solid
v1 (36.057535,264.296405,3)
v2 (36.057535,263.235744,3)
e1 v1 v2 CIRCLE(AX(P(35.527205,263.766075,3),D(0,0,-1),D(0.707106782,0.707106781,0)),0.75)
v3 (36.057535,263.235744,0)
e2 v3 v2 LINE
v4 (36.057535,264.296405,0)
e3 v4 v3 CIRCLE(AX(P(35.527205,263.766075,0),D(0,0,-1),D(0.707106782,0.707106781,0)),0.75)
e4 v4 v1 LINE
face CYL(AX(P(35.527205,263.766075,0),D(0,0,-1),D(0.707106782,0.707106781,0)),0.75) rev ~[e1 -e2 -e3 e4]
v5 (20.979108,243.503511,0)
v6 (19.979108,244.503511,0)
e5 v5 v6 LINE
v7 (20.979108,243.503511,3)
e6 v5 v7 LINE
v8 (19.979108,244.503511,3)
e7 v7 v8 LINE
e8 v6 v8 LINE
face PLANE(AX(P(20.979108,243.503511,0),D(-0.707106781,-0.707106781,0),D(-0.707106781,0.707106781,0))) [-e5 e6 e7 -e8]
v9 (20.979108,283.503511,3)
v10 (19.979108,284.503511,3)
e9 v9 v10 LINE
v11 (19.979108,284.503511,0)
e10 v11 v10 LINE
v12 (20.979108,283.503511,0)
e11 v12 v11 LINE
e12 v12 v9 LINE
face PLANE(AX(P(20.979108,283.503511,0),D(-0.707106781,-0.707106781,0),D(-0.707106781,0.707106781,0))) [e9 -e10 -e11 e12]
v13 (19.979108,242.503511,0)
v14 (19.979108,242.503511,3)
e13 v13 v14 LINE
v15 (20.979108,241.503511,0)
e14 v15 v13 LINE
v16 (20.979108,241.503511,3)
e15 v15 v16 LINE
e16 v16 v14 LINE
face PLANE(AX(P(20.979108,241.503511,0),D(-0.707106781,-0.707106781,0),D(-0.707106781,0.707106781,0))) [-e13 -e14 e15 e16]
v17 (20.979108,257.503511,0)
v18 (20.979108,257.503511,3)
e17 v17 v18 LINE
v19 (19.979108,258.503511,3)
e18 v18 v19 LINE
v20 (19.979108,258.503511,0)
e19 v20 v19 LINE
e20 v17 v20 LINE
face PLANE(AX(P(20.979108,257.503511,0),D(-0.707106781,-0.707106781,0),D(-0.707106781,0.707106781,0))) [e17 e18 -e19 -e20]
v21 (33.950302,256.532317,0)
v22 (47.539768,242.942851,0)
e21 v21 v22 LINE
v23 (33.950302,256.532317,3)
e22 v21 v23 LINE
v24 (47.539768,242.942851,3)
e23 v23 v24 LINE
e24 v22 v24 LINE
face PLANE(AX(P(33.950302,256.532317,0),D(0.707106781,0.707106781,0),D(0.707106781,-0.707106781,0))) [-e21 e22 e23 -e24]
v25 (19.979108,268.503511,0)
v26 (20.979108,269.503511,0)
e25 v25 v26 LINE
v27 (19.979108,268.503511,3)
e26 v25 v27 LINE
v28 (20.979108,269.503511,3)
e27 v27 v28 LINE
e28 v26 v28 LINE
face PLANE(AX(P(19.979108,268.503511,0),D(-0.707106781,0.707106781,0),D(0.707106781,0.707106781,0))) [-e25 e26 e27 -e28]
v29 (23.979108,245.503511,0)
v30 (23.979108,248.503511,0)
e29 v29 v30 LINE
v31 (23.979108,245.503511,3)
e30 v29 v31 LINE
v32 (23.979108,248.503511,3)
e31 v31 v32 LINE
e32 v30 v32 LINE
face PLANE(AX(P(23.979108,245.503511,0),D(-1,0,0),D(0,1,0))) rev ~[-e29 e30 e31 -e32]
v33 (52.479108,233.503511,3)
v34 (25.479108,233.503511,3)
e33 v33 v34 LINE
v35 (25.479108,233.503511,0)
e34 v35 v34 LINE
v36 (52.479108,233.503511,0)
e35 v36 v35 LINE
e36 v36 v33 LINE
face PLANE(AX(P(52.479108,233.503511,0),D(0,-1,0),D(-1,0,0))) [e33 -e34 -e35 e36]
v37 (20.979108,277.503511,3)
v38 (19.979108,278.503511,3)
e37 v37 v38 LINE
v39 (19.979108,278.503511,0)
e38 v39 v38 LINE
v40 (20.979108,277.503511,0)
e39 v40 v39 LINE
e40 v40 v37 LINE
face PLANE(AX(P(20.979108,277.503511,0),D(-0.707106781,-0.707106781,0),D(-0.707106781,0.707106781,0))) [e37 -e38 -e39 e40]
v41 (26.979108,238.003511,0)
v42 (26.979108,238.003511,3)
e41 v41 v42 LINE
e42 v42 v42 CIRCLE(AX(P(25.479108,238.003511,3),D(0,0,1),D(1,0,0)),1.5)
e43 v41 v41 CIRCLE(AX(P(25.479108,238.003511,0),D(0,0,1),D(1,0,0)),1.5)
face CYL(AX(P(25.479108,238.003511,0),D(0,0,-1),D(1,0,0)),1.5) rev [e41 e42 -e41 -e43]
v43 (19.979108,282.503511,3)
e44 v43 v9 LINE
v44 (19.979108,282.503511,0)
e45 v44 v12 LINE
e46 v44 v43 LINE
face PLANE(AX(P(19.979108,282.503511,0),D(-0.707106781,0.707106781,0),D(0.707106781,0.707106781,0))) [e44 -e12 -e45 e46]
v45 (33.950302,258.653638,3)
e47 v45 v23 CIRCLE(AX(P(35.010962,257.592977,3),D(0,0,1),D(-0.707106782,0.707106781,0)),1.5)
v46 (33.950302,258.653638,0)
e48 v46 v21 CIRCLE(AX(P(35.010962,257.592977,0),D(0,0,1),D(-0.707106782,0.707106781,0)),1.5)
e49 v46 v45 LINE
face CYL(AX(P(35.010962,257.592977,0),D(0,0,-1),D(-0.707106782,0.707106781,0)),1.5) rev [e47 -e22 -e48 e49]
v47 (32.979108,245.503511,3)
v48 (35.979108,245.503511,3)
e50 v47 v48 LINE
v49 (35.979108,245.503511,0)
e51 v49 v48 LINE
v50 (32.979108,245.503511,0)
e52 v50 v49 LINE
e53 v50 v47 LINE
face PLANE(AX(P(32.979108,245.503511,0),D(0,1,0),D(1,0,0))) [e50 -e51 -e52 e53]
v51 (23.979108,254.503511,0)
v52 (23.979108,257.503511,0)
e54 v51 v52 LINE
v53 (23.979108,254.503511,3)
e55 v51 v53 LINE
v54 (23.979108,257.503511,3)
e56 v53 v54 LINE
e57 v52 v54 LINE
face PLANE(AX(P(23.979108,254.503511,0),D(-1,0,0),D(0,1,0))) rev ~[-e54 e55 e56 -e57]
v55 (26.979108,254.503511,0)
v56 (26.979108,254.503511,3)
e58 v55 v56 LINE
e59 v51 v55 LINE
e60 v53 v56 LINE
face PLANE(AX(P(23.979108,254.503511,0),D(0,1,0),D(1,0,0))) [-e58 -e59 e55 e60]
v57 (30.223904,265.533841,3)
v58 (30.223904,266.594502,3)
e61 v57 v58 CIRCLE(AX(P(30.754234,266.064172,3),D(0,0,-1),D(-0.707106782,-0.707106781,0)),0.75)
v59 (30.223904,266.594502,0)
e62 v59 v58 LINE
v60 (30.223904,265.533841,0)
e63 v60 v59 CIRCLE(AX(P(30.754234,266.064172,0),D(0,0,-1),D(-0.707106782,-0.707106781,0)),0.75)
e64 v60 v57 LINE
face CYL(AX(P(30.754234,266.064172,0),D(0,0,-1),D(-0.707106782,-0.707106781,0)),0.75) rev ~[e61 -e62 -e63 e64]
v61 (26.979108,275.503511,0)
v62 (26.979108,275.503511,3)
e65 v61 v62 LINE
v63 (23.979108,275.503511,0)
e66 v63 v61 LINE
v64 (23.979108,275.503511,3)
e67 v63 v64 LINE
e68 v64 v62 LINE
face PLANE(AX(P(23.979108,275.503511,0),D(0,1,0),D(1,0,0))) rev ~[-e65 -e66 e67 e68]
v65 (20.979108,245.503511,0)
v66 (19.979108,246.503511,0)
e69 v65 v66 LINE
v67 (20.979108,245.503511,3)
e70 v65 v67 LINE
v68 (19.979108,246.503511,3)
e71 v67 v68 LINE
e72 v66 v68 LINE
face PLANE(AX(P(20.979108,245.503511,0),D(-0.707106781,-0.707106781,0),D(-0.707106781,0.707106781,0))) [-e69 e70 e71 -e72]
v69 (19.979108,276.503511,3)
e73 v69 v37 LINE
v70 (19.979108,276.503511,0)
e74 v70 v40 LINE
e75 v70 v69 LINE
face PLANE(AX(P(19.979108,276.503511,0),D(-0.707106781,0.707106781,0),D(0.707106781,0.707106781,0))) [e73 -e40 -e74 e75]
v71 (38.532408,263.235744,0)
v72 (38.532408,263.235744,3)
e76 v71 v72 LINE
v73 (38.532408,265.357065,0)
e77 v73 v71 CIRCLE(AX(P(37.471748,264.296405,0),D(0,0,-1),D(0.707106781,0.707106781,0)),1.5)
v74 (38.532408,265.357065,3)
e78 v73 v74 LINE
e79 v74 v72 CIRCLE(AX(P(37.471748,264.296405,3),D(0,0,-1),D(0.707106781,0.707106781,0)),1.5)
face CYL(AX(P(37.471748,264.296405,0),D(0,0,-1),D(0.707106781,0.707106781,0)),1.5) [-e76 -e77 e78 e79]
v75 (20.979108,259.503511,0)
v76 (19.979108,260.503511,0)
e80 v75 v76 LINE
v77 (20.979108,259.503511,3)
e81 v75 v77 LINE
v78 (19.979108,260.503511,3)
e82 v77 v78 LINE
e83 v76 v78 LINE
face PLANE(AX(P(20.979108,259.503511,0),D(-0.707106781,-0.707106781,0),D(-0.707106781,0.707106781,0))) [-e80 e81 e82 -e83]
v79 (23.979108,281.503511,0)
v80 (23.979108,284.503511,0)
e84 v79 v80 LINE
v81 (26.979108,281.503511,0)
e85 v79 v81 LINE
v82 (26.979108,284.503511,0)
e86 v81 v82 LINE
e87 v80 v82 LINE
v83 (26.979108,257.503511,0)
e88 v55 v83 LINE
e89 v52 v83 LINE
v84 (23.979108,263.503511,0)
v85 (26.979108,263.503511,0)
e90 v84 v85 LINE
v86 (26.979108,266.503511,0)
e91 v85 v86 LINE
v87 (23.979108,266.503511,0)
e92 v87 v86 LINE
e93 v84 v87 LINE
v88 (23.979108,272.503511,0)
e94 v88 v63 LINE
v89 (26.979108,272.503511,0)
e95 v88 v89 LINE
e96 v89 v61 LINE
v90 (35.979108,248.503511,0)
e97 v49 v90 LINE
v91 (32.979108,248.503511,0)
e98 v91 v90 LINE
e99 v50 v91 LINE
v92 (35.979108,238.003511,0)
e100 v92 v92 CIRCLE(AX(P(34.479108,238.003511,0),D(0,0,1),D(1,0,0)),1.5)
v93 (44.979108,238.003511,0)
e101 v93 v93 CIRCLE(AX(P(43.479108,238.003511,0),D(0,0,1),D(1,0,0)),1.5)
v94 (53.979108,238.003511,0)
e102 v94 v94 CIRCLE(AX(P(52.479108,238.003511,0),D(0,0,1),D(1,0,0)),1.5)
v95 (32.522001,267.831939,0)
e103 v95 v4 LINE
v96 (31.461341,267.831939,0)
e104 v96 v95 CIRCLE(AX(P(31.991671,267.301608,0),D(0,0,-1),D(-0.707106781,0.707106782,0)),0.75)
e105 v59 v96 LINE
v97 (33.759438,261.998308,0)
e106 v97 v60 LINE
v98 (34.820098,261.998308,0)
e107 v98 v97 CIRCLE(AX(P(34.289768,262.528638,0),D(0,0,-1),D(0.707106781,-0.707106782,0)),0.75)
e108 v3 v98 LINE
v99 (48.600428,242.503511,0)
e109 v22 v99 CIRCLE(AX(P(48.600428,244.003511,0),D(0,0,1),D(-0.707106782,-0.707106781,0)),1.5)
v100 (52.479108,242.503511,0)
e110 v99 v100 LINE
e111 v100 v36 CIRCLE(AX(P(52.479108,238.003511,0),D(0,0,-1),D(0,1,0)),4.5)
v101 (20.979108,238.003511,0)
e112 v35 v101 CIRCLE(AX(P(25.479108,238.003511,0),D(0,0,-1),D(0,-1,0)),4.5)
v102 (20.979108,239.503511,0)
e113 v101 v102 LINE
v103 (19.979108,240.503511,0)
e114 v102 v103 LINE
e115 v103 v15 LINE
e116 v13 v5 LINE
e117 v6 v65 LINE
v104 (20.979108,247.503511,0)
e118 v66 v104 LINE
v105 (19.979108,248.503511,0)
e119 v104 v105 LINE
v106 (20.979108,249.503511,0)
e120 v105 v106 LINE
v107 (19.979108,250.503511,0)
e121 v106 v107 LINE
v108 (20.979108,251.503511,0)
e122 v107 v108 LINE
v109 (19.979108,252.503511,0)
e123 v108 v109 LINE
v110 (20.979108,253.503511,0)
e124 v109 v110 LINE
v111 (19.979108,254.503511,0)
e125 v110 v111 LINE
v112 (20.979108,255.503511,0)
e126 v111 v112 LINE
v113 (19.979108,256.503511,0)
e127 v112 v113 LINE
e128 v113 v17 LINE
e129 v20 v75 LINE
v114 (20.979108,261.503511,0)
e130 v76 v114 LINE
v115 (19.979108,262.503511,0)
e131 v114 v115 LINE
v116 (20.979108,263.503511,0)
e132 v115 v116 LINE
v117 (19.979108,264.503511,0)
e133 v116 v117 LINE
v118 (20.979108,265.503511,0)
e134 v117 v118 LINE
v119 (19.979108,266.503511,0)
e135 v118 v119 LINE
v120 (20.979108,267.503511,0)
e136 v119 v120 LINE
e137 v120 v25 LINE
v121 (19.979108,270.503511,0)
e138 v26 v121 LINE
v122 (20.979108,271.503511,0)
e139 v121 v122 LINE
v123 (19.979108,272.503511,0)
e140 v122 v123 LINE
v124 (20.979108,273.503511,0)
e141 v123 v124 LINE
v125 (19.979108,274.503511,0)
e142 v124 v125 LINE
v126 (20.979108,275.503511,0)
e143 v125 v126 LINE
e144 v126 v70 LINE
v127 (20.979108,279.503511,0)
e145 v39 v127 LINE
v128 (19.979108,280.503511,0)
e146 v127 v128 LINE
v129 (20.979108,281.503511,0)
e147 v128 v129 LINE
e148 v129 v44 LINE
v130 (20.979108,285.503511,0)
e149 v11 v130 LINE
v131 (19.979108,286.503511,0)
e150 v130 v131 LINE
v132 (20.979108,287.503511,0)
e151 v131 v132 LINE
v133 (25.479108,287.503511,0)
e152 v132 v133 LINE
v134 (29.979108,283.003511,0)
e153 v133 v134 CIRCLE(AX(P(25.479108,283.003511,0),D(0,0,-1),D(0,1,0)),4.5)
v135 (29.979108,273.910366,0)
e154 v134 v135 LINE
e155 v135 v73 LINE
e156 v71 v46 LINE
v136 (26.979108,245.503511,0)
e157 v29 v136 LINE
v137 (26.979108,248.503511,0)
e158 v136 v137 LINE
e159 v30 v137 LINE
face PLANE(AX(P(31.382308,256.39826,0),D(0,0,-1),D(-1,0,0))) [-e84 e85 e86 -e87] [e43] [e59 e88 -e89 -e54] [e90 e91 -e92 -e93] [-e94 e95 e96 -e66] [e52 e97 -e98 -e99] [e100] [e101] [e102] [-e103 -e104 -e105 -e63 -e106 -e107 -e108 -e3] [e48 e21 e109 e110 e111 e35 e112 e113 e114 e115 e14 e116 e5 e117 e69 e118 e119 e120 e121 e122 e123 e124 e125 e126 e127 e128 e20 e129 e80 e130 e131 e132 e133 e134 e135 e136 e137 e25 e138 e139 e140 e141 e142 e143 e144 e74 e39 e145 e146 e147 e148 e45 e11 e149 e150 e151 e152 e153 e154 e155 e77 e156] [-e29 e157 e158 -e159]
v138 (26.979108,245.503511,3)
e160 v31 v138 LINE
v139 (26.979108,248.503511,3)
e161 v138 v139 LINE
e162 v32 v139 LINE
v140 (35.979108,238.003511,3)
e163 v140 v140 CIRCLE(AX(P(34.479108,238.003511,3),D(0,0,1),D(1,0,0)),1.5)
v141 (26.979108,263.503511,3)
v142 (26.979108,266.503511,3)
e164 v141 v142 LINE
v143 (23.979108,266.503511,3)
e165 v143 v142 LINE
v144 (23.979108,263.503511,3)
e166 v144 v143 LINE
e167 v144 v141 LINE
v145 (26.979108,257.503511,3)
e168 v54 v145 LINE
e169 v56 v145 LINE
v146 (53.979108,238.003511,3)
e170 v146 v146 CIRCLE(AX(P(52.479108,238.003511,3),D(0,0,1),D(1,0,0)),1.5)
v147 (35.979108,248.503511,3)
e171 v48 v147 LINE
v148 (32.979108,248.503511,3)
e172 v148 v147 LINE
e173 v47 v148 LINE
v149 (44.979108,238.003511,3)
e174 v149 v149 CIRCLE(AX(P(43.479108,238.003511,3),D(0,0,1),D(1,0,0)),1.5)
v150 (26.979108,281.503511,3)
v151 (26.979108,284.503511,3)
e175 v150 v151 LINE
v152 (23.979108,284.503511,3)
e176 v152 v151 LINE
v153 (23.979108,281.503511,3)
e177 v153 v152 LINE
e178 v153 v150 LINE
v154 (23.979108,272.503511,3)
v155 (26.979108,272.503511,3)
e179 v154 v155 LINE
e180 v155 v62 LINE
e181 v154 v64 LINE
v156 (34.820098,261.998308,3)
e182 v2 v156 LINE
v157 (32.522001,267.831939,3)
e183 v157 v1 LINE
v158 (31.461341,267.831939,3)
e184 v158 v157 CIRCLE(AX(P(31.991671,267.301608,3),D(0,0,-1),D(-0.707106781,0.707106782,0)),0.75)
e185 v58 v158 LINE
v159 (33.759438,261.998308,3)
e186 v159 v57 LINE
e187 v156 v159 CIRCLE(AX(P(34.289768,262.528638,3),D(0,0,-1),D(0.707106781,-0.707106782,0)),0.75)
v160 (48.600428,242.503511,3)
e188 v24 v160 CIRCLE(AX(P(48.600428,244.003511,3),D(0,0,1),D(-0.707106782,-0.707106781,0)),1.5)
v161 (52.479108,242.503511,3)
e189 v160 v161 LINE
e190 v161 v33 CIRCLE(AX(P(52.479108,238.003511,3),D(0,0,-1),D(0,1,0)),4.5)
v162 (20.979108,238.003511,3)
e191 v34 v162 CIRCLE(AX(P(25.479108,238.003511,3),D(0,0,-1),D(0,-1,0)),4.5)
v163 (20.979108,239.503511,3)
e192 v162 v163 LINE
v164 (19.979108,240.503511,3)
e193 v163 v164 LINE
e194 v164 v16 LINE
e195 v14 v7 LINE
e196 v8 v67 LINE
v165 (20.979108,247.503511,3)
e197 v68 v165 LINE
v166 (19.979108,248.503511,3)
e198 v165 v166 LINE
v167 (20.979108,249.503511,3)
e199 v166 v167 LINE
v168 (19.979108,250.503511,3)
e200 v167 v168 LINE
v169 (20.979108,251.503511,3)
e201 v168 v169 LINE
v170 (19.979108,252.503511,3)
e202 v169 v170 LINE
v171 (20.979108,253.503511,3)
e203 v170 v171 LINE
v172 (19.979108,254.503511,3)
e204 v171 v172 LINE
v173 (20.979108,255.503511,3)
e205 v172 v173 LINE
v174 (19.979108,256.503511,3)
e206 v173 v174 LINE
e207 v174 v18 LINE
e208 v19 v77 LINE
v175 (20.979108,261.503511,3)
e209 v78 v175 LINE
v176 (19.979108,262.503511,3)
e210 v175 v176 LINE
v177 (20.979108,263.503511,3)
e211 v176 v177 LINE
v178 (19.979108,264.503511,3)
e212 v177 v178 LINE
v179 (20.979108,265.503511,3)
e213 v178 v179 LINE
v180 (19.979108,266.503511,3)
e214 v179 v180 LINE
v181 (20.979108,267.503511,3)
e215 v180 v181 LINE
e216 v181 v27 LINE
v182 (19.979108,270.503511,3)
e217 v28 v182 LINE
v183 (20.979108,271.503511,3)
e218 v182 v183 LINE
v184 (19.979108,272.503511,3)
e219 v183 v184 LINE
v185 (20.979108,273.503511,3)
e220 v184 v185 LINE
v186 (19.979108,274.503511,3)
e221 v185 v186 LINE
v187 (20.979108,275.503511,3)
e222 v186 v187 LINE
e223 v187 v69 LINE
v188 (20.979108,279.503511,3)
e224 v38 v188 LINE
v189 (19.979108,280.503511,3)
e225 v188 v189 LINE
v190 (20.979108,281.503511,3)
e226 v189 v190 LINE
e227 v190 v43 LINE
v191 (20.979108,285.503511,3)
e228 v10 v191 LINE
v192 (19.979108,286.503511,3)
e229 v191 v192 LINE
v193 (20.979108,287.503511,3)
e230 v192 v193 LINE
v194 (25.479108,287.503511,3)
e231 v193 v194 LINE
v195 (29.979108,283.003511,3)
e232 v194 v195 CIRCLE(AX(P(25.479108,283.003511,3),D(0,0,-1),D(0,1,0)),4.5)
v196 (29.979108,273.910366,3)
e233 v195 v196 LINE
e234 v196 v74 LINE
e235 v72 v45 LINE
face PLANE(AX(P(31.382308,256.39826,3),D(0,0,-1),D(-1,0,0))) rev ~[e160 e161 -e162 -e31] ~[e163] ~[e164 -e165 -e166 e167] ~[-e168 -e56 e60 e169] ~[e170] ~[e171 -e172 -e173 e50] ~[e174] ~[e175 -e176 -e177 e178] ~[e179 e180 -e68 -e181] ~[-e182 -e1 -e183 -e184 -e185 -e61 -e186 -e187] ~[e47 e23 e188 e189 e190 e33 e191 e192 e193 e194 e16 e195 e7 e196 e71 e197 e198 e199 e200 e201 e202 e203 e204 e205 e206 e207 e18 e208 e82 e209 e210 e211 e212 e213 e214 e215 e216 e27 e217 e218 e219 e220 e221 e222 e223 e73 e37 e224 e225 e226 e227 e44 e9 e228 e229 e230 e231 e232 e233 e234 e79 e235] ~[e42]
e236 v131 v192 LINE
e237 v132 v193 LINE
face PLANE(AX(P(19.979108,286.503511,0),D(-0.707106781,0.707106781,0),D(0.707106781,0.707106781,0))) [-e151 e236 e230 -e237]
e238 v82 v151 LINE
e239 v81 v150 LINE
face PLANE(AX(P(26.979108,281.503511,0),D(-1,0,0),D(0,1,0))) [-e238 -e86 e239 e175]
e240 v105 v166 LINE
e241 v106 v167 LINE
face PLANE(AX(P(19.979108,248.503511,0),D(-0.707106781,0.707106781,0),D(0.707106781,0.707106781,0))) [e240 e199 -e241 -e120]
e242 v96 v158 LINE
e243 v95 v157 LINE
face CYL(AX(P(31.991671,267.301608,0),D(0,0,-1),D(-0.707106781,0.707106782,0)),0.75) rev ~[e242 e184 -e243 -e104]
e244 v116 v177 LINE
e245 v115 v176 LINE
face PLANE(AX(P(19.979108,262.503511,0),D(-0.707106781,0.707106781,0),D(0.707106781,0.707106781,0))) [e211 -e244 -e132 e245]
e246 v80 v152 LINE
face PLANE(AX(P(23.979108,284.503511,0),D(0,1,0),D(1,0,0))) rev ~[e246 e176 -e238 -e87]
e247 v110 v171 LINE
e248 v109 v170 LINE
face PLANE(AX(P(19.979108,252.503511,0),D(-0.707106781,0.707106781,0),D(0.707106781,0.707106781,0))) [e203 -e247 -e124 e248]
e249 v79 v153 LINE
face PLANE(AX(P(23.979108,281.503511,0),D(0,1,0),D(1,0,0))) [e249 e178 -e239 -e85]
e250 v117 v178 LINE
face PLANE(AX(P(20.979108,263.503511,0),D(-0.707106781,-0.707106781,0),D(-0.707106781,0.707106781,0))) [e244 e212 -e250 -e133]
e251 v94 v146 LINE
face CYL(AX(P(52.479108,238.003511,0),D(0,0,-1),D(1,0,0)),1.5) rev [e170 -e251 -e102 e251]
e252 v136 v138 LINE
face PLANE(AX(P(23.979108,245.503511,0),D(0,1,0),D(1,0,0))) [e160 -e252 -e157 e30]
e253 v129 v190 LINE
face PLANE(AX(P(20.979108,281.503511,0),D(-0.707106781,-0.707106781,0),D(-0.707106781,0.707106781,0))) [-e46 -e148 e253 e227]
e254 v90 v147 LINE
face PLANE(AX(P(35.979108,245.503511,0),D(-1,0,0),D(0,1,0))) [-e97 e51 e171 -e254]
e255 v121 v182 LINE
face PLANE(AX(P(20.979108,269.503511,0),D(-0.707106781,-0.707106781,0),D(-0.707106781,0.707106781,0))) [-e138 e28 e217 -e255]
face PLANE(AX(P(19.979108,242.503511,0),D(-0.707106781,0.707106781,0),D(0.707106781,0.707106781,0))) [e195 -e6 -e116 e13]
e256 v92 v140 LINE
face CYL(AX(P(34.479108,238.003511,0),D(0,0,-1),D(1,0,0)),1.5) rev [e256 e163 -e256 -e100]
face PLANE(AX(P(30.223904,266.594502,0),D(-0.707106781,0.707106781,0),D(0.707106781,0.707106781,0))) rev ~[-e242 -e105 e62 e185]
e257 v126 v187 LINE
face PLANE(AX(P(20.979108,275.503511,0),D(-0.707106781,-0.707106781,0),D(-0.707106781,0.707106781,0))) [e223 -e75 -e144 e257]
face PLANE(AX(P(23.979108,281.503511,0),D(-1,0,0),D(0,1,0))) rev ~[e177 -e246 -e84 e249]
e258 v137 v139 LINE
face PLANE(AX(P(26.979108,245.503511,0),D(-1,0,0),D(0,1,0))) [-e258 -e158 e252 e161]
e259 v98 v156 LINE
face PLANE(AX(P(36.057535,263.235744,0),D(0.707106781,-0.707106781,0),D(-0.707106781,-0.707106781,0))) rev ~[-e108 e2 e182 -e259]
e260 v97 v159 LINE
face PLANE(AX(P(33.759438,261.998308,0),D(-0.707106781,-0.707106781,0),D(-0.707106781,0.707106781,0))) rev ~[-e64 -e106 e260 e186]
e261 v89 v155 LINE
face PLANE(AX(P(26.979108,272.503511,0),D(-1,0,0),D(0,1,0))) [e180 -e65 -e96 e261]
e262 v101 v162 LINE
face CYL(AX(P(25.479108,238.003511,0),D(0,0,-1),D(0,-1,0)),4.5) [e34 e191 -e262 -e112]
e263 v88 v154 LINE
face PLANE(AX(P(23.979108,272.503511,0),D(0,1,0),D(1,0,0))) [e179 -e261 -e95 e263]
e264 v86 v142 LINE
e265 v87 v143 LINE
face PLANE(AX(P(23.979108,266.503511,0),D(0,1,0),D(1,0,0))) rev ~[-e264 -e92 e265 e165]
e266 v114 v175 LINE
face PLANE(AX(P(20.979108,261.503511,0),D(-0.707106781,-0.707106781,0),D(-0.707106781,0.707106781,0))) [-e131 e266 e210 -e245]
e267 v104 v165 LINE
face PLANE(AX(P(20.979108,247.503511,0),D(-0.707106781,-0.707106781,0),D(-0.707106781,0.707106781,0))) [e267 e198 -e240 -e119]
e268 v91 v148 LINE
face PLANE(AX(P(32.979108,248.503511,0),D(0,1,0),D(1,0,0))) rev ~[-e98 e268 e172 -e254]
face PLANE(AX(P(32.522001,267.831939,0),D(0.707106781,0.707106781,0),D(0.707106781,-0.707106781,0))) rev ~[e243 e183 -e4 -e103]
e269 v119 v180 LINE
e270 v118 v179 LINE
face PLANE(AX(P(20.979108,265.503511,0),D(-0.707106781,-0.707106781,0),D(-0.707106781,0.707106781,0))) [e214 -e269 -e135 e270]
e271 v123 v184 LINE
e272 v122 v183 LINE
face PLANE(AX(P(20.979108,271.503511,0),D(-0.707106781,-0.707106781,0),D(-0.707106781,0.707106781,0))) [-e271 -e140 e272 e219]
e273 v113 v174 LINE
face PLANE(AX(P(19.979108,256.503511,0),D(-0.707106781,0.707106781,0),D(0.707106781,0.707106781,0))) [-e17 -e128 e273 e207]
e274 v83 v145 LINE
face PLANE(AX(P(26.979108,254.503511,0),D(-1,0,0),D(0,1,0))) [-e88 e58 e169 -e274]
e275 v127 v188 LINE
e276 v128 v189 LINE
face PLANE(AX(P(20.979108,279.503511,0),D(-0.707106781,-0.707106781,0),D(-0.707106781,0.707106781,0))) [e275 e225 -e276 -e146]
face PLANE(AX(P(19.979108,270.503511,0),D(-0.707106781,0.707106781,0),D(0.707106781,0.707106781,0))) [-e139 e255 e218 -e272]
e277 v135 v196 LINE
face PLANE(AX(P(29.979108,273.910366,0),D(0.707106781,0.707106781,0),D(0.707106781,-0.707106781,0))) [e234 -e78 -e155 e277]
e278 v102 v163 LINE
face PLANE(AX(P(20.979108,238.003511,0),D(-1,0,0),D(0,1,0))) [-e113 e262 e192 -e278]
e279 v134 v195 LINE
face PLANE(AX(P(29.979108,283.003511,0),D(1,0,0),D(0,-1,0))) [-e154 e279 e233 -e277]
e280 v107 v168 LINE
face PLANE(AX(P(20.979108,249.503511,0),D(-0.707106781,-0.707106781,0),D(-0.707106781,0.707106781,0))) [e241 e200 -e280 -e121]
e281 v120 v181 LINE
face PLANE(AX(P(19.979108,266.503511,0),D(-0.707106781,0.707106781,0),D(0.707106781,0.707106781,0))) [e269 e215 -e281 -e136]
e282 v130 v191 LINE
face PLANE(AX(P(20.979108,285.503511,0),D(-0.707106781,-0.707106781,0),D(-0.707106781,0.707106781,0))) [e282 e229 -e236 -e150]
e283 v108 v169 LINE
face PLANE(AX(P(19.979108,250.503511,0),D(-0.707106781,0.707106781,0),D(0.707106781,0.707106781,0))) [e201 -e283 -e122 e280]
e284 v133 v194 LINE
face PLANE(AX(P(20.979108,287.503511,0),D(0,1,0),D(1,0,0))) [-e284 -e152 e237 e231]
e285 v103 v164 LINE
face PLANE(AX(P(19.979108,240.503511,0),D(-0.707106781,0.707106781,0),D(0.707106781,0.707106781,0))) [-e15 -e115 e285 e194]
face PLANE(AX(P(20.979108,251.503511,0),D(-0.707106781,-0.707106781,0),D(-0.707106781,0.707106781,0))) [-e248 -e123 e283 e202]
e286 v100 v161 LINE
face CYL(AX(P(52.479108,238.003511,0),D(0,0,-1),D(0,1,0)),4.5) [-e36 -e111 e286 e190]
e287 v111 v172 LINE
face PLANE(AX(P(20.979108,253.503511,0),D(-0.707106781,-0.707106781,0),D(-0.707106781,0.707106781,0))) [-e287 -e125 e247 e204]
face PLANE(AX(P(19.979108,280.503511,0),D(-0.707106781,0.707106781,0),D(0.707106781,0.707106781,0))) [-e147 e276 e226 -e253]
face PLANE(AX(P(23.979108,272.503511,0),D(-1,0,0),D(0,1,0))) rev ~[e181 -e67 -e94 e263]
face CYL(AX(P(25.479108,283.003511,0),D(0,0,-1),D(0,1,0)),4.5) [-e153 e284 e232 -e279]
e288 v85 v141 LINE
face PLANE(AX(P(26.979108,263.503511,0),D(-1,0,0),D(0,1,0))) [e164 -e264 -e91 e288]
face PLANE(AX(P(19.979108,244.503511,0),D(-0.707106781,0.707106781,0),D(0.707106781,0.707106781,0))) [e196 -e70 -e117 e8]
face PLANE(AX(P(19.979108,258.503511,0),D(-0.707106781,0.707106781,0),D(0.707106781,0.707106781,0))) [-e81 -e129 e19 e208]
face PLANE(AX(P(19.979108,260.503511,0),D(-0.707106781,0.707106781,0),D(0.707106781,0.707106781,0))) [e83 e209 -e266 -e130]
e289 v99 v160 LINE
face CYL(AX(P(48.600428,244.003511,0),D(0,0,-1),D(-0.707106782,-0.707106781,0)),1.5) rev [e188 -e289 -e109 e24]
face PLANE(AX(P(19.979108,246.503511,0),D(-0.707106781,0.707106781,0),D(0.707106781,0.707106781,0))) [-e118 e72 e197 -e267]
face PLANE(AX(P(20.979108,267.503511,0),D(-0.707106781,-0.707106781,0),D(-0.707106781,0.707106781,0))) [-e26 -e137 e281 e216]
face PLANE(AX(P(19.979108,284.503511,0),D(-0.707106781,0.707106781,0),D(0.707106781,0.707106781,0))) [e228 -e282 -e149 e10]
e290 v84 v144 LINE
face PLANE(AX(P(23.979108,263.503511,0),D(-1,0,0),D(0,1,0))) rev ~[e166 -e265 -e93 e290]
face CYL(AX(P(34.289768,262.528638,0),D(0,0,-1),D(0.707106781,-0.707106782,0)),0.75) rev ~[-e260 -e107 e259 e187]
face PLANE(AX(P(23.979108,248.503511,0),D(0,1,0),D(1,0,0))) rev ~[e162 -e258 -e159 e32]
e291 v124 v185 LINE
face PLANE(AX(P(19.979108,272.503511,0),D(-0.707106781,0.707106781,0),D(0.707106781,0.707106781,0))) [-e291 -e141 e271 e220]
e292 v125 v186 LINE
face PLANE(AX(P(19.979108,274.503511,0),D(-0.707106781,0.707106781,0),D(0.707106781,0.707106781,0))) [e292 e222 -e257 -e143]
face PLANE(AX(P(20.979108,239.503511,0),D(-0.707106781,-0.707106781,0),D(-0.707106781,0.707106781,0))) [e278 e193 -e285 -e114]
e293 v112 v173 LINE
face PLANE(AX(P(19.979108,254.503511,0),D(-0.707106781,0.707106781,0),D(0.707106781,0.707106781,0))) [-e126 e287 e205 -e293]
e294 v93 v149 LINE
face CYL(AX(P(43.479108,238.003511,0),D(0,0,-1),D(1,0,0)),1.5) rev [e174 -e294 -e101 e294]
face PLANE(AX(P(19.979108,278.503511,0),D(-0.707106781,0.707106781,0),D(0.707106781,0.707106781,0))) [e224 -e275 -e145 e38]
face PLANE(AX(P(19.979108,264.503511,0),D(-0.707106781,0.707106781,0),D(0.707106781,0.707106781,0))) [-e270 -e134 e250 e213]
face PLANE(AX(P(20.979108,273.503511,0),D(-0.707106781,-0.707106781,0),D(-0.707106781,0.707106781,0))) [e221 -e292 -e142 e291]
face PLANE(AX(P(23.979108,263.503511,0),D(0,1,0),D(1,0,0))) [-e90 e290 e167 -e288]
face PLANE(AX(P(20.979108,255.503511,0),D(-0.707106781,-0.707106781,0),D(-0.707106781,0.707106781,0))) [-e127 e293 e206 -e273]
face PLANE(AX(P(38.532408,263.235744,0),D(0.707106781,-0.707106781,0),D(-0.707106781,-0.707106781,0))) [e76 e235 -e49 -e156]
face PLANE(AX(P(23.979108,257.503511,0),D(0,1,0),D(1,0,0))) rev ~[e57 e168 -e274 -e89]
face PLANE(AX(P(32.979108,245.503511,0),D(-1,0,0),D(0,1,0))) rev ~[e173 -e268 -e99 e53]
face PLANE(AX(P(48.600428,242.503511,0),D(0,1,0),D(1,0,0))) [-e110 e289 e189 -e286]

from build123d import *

# Parameters (mm, degrees)
MODEL_R                 = 1.5
MODEL_W                 = 3
MODEL_H                 = 3
SALIENTE_EXTRUIR1_DEPTH = 3


with BuildPart() as part:
    # Model → Saliente-Extruir1 (new body)
    with BuildSketch(Plane.XY):
        with BuildLine():
            Line((20.979107628, 285.503511394), (19.979107628, 286.503511394))
            Line((19.979107628, 286.503511394), (20.979107628, 287.503511394))
            Line((20.979107628, 287.503511394), (25.479107628, 287.503511394))
            ThreePointArc((25.479107628, 287.503511394), (28.661088143, 286.185491909), (29.979107628, 283.003511394))
            Line((29.979107628, 283.003511394), (29.979107628, 273.910365643))
            Line((29.979107628, 273.910365643), (38.532408487, 265.357064784))
            ThreePointArc((38.532408487, 265.357064784), (38.971748315, 264.296404613), (38.532408487, 263.235744441))
            Line((38.532408487, 263.235744441), (33.950301706, 258.65363766))
            ThreePointArc((33.950301706, 258.65363766), (33.510961878, 257.592977488), (33.950301706, 256.532317316))
            Line((33.950301706, 256.532317316), (47.5397678, 242.942851222))
            ThreePointArc((47.5397678, 242.942851222), (48.026402823, 242.617692095), (48.600427972, 242.503511394))
            Line((48.600427972, 242.503511394), (52.479107628, 242.503511394))
            ThreePointArc((52.479107628, 242.503511394), (56.979107628, 238.003511394), (52.479107628, 233.503511394))
            Line((52.479107628, 233.503511394), (25.479107628, 233.503511394))
            ThreePointArc((25.479107628, 233.503511394), (22.297127113, 234.821530879), (20.979107628, 238.003511394))
            Line((20.979107628, 238.003511394), (20.979107628, 239.503511394))
            Line((20.979107628, 239.503511394), (19.979107628, 240.503511394))
            Line((19.979107628, 240.503511394), (20.979107628, 241.503511394))
            Line((20.979107628, 241.503511394), (19.979107628, 242.503511394))
            Line((19.979107628, 242.503511394), (20.979107628, 243.503511394))
            Line((20.979107628, 243.503511394), (19.979107628, 244.503511394))
            Line((19.979107628, 244.503511394), (20.979107628, 245.503511394))
            Line((20.979107628, 245.503511394), (19.979107628, 246.503511394))
            Line((19.979107628, 246.503511394), (20.979107628, 247.503511394))
            Line((20.979107628, 247.503511394), (19.979107628, 248.503511394))
            Line((19.979107628, 248.503511394), (20.979107628, 249.503511394))
            Line((20.979107628, 249.503511394), (19.979107628, 250.503511394))
            Line((19.979107628, 250.503511394), (20.979107628, 251.503511394))
            Line((20.979107628, 251.503511394), (19.979107628, 252.503511394))
            Line((19.979107628, 252.503511394), (20.979107628, 253.503511394))
            Line((20.979107628, 253.503511394), (19.979107628, 254.503511394))
            Line((19.979107628, 254.503511394), (20.979107628, 255.503511394))
            Line((20.979107628, 255.503511394), (19.979107628, 256.503511394))
            Line((19.979107628, 256.503511394), (20.979107628, 257.503511394))
            Line((20.979107628, 257.503511394), (19.979107628, 258.503511394))
            Line((19.979107628, 258.503511394), (20.979107628, 259.503511394))
            Line((20.979107628, 259.503511394), (19.979107628, 260.503511394))
            Line((19.979107628, 260.503511394), (20.979107628, 261.503511394))
            Line((20.979107628, 261.503511394), (19.979107628, 262.503511394))
            Line((19.979107628, 262.503511394), (20.979107628, 263.503511394))
            Line((20.979107628, 263.503511394), (19.979107628, 264.503511394))
            Line((19.979107628, 264.503511394), (20.979107628, 265.503511394))
            Line((20.979107628, 265.503511394), (19.979107628, 266.503511394))
            Line((19.979107628, 266.503511394), (20.979107628, 267.503511394))
            Line((20.979107628, 267.503511394), (19.979107628, 268.503511394))
            Line((19.979107628, 268.503511394), (20.979107628, 269.503511394))
            Line((20.979107628, 269.503511394), (19.979107628, 270.503511394))
            Line((19.979107628, 270.503511394), (20.979107628, 271.503511394))
            Line((20.979107628, 271.503511394), (19.979107628, 272.503511394))
            Line((19.979107628, 272.503511394), (20.979107628, 273.503511394))
            Line((20.979107628, 273.503511394), (19.979107628, 274.503511394))
            Line((19.979107628, 274.503511394), (20.979107628, 275.503511394))
            Line((20.979107628, 275.503511394), (19.979107628, 276.503511394))
            Line((19.979107628, 276.503511394), (20.979107628, 277.503511394))
            Line((20.979107628, 277.503511394), (19.979107628, 278.503511394))
            Line((19.979107628, 278.503511394), (20.979107628, 279.503511394))
            Line((20.979107628, 279.503511394), (19.979107628, 280.503511394))
            Line((19.979107628, 280.503511394), (20.979107628, 281.503511394))
            Line((20.979107628, 281.503511394), (19.979107628, 282.503511394))
            Line((19.979107628, 282.503511394), (20.979107628, 283.503511394))
            Line((20.979107628, 283.503511394), (19.979107628, 284.503511394))
            Line((19.979107628, 284.503511394), (20.979107628, 285.503511394))
        make_face()
        with Locations((43.479107628, 238.003511394)):
            Circle(MODEL_R, mode=Mode.SUBTRACT)
        with Locations((34.479107628, 238.003511394)):
            Circle(MODEL_R, mode=Mode.SUBTRACT)
        with Locations((52.479107628, 238.003511394)):
            Circle(MODEL_R, mode=Mode.SUBTRACT)
        with Locations((25.479107628, 238.003511394)):
            Circle(MODEL_R, mode=Mode.SUBTRACT)
        with Locations((25.479107628, 283.003511394)):
            Rectangle(MODEL_W, MODEL_H, mode=Mode.SUBTRACT)
        with Locations((25.479107628, 247.003511394)):
            Rectangle(MODEL_W, MODEL_H, mode=Mode.SUBTRACT)
        with Locations((25.479107628, 274.003511394)):
            Rectangle(MODEL_W, MODEL_H, mode=Mode.SUBTRACT)
        with Locations((25.479107628, 256.003511394)):
            Rectangle(MODEL_W, MODEL_H, mode=Mode.SUBTRACT)
        with Locations((25.479107628, 265.003511394)):
            Rectangle(MODEL_W, MODEL_H, mode=Mode.SUBTRACT)
        with Locations((34.479107628, 247.003511394)):
            Rectangle(MODEL_W, MODEL_H, mode=Mode.SUBTRACT)
        with BuildLine():
            Line((36.057534753, 263.235744441), (34.820097886, 261.998307574))
            ThreePointArc((34.820097886, 261.998307574), (34.2897678, 261.77863766), (33.759437714, 261.998307574))
            Line((33.759437714, 261.998307574), (30.223903808, 265.53384148))
            ThreePointArc((30.223903808, 265.53384148), (30.004233894, 266.064171566), (30.223903808, 266.594501652))
            Line((30.223903808, 266.594501652), (31.461340675, 267.831938519))
            ThreePointArc((31.461340675, 267.831938519), (31.991670761, 268.051608433), (32.522000847, 267.831938519))
            Line((32.522000847, 267.831938519), (36.057534753, 264.296404613))
            ThreePointArc((36.057534753, 264.296404613), (36.277204667, 263.766074527), (36.057534753, 263.235744441))
        make_face(mode=Mode.SUBTRACT)
    extrude(amount=SALIENTE_EXTRUIR1_DEPTH)


solid = part.part
